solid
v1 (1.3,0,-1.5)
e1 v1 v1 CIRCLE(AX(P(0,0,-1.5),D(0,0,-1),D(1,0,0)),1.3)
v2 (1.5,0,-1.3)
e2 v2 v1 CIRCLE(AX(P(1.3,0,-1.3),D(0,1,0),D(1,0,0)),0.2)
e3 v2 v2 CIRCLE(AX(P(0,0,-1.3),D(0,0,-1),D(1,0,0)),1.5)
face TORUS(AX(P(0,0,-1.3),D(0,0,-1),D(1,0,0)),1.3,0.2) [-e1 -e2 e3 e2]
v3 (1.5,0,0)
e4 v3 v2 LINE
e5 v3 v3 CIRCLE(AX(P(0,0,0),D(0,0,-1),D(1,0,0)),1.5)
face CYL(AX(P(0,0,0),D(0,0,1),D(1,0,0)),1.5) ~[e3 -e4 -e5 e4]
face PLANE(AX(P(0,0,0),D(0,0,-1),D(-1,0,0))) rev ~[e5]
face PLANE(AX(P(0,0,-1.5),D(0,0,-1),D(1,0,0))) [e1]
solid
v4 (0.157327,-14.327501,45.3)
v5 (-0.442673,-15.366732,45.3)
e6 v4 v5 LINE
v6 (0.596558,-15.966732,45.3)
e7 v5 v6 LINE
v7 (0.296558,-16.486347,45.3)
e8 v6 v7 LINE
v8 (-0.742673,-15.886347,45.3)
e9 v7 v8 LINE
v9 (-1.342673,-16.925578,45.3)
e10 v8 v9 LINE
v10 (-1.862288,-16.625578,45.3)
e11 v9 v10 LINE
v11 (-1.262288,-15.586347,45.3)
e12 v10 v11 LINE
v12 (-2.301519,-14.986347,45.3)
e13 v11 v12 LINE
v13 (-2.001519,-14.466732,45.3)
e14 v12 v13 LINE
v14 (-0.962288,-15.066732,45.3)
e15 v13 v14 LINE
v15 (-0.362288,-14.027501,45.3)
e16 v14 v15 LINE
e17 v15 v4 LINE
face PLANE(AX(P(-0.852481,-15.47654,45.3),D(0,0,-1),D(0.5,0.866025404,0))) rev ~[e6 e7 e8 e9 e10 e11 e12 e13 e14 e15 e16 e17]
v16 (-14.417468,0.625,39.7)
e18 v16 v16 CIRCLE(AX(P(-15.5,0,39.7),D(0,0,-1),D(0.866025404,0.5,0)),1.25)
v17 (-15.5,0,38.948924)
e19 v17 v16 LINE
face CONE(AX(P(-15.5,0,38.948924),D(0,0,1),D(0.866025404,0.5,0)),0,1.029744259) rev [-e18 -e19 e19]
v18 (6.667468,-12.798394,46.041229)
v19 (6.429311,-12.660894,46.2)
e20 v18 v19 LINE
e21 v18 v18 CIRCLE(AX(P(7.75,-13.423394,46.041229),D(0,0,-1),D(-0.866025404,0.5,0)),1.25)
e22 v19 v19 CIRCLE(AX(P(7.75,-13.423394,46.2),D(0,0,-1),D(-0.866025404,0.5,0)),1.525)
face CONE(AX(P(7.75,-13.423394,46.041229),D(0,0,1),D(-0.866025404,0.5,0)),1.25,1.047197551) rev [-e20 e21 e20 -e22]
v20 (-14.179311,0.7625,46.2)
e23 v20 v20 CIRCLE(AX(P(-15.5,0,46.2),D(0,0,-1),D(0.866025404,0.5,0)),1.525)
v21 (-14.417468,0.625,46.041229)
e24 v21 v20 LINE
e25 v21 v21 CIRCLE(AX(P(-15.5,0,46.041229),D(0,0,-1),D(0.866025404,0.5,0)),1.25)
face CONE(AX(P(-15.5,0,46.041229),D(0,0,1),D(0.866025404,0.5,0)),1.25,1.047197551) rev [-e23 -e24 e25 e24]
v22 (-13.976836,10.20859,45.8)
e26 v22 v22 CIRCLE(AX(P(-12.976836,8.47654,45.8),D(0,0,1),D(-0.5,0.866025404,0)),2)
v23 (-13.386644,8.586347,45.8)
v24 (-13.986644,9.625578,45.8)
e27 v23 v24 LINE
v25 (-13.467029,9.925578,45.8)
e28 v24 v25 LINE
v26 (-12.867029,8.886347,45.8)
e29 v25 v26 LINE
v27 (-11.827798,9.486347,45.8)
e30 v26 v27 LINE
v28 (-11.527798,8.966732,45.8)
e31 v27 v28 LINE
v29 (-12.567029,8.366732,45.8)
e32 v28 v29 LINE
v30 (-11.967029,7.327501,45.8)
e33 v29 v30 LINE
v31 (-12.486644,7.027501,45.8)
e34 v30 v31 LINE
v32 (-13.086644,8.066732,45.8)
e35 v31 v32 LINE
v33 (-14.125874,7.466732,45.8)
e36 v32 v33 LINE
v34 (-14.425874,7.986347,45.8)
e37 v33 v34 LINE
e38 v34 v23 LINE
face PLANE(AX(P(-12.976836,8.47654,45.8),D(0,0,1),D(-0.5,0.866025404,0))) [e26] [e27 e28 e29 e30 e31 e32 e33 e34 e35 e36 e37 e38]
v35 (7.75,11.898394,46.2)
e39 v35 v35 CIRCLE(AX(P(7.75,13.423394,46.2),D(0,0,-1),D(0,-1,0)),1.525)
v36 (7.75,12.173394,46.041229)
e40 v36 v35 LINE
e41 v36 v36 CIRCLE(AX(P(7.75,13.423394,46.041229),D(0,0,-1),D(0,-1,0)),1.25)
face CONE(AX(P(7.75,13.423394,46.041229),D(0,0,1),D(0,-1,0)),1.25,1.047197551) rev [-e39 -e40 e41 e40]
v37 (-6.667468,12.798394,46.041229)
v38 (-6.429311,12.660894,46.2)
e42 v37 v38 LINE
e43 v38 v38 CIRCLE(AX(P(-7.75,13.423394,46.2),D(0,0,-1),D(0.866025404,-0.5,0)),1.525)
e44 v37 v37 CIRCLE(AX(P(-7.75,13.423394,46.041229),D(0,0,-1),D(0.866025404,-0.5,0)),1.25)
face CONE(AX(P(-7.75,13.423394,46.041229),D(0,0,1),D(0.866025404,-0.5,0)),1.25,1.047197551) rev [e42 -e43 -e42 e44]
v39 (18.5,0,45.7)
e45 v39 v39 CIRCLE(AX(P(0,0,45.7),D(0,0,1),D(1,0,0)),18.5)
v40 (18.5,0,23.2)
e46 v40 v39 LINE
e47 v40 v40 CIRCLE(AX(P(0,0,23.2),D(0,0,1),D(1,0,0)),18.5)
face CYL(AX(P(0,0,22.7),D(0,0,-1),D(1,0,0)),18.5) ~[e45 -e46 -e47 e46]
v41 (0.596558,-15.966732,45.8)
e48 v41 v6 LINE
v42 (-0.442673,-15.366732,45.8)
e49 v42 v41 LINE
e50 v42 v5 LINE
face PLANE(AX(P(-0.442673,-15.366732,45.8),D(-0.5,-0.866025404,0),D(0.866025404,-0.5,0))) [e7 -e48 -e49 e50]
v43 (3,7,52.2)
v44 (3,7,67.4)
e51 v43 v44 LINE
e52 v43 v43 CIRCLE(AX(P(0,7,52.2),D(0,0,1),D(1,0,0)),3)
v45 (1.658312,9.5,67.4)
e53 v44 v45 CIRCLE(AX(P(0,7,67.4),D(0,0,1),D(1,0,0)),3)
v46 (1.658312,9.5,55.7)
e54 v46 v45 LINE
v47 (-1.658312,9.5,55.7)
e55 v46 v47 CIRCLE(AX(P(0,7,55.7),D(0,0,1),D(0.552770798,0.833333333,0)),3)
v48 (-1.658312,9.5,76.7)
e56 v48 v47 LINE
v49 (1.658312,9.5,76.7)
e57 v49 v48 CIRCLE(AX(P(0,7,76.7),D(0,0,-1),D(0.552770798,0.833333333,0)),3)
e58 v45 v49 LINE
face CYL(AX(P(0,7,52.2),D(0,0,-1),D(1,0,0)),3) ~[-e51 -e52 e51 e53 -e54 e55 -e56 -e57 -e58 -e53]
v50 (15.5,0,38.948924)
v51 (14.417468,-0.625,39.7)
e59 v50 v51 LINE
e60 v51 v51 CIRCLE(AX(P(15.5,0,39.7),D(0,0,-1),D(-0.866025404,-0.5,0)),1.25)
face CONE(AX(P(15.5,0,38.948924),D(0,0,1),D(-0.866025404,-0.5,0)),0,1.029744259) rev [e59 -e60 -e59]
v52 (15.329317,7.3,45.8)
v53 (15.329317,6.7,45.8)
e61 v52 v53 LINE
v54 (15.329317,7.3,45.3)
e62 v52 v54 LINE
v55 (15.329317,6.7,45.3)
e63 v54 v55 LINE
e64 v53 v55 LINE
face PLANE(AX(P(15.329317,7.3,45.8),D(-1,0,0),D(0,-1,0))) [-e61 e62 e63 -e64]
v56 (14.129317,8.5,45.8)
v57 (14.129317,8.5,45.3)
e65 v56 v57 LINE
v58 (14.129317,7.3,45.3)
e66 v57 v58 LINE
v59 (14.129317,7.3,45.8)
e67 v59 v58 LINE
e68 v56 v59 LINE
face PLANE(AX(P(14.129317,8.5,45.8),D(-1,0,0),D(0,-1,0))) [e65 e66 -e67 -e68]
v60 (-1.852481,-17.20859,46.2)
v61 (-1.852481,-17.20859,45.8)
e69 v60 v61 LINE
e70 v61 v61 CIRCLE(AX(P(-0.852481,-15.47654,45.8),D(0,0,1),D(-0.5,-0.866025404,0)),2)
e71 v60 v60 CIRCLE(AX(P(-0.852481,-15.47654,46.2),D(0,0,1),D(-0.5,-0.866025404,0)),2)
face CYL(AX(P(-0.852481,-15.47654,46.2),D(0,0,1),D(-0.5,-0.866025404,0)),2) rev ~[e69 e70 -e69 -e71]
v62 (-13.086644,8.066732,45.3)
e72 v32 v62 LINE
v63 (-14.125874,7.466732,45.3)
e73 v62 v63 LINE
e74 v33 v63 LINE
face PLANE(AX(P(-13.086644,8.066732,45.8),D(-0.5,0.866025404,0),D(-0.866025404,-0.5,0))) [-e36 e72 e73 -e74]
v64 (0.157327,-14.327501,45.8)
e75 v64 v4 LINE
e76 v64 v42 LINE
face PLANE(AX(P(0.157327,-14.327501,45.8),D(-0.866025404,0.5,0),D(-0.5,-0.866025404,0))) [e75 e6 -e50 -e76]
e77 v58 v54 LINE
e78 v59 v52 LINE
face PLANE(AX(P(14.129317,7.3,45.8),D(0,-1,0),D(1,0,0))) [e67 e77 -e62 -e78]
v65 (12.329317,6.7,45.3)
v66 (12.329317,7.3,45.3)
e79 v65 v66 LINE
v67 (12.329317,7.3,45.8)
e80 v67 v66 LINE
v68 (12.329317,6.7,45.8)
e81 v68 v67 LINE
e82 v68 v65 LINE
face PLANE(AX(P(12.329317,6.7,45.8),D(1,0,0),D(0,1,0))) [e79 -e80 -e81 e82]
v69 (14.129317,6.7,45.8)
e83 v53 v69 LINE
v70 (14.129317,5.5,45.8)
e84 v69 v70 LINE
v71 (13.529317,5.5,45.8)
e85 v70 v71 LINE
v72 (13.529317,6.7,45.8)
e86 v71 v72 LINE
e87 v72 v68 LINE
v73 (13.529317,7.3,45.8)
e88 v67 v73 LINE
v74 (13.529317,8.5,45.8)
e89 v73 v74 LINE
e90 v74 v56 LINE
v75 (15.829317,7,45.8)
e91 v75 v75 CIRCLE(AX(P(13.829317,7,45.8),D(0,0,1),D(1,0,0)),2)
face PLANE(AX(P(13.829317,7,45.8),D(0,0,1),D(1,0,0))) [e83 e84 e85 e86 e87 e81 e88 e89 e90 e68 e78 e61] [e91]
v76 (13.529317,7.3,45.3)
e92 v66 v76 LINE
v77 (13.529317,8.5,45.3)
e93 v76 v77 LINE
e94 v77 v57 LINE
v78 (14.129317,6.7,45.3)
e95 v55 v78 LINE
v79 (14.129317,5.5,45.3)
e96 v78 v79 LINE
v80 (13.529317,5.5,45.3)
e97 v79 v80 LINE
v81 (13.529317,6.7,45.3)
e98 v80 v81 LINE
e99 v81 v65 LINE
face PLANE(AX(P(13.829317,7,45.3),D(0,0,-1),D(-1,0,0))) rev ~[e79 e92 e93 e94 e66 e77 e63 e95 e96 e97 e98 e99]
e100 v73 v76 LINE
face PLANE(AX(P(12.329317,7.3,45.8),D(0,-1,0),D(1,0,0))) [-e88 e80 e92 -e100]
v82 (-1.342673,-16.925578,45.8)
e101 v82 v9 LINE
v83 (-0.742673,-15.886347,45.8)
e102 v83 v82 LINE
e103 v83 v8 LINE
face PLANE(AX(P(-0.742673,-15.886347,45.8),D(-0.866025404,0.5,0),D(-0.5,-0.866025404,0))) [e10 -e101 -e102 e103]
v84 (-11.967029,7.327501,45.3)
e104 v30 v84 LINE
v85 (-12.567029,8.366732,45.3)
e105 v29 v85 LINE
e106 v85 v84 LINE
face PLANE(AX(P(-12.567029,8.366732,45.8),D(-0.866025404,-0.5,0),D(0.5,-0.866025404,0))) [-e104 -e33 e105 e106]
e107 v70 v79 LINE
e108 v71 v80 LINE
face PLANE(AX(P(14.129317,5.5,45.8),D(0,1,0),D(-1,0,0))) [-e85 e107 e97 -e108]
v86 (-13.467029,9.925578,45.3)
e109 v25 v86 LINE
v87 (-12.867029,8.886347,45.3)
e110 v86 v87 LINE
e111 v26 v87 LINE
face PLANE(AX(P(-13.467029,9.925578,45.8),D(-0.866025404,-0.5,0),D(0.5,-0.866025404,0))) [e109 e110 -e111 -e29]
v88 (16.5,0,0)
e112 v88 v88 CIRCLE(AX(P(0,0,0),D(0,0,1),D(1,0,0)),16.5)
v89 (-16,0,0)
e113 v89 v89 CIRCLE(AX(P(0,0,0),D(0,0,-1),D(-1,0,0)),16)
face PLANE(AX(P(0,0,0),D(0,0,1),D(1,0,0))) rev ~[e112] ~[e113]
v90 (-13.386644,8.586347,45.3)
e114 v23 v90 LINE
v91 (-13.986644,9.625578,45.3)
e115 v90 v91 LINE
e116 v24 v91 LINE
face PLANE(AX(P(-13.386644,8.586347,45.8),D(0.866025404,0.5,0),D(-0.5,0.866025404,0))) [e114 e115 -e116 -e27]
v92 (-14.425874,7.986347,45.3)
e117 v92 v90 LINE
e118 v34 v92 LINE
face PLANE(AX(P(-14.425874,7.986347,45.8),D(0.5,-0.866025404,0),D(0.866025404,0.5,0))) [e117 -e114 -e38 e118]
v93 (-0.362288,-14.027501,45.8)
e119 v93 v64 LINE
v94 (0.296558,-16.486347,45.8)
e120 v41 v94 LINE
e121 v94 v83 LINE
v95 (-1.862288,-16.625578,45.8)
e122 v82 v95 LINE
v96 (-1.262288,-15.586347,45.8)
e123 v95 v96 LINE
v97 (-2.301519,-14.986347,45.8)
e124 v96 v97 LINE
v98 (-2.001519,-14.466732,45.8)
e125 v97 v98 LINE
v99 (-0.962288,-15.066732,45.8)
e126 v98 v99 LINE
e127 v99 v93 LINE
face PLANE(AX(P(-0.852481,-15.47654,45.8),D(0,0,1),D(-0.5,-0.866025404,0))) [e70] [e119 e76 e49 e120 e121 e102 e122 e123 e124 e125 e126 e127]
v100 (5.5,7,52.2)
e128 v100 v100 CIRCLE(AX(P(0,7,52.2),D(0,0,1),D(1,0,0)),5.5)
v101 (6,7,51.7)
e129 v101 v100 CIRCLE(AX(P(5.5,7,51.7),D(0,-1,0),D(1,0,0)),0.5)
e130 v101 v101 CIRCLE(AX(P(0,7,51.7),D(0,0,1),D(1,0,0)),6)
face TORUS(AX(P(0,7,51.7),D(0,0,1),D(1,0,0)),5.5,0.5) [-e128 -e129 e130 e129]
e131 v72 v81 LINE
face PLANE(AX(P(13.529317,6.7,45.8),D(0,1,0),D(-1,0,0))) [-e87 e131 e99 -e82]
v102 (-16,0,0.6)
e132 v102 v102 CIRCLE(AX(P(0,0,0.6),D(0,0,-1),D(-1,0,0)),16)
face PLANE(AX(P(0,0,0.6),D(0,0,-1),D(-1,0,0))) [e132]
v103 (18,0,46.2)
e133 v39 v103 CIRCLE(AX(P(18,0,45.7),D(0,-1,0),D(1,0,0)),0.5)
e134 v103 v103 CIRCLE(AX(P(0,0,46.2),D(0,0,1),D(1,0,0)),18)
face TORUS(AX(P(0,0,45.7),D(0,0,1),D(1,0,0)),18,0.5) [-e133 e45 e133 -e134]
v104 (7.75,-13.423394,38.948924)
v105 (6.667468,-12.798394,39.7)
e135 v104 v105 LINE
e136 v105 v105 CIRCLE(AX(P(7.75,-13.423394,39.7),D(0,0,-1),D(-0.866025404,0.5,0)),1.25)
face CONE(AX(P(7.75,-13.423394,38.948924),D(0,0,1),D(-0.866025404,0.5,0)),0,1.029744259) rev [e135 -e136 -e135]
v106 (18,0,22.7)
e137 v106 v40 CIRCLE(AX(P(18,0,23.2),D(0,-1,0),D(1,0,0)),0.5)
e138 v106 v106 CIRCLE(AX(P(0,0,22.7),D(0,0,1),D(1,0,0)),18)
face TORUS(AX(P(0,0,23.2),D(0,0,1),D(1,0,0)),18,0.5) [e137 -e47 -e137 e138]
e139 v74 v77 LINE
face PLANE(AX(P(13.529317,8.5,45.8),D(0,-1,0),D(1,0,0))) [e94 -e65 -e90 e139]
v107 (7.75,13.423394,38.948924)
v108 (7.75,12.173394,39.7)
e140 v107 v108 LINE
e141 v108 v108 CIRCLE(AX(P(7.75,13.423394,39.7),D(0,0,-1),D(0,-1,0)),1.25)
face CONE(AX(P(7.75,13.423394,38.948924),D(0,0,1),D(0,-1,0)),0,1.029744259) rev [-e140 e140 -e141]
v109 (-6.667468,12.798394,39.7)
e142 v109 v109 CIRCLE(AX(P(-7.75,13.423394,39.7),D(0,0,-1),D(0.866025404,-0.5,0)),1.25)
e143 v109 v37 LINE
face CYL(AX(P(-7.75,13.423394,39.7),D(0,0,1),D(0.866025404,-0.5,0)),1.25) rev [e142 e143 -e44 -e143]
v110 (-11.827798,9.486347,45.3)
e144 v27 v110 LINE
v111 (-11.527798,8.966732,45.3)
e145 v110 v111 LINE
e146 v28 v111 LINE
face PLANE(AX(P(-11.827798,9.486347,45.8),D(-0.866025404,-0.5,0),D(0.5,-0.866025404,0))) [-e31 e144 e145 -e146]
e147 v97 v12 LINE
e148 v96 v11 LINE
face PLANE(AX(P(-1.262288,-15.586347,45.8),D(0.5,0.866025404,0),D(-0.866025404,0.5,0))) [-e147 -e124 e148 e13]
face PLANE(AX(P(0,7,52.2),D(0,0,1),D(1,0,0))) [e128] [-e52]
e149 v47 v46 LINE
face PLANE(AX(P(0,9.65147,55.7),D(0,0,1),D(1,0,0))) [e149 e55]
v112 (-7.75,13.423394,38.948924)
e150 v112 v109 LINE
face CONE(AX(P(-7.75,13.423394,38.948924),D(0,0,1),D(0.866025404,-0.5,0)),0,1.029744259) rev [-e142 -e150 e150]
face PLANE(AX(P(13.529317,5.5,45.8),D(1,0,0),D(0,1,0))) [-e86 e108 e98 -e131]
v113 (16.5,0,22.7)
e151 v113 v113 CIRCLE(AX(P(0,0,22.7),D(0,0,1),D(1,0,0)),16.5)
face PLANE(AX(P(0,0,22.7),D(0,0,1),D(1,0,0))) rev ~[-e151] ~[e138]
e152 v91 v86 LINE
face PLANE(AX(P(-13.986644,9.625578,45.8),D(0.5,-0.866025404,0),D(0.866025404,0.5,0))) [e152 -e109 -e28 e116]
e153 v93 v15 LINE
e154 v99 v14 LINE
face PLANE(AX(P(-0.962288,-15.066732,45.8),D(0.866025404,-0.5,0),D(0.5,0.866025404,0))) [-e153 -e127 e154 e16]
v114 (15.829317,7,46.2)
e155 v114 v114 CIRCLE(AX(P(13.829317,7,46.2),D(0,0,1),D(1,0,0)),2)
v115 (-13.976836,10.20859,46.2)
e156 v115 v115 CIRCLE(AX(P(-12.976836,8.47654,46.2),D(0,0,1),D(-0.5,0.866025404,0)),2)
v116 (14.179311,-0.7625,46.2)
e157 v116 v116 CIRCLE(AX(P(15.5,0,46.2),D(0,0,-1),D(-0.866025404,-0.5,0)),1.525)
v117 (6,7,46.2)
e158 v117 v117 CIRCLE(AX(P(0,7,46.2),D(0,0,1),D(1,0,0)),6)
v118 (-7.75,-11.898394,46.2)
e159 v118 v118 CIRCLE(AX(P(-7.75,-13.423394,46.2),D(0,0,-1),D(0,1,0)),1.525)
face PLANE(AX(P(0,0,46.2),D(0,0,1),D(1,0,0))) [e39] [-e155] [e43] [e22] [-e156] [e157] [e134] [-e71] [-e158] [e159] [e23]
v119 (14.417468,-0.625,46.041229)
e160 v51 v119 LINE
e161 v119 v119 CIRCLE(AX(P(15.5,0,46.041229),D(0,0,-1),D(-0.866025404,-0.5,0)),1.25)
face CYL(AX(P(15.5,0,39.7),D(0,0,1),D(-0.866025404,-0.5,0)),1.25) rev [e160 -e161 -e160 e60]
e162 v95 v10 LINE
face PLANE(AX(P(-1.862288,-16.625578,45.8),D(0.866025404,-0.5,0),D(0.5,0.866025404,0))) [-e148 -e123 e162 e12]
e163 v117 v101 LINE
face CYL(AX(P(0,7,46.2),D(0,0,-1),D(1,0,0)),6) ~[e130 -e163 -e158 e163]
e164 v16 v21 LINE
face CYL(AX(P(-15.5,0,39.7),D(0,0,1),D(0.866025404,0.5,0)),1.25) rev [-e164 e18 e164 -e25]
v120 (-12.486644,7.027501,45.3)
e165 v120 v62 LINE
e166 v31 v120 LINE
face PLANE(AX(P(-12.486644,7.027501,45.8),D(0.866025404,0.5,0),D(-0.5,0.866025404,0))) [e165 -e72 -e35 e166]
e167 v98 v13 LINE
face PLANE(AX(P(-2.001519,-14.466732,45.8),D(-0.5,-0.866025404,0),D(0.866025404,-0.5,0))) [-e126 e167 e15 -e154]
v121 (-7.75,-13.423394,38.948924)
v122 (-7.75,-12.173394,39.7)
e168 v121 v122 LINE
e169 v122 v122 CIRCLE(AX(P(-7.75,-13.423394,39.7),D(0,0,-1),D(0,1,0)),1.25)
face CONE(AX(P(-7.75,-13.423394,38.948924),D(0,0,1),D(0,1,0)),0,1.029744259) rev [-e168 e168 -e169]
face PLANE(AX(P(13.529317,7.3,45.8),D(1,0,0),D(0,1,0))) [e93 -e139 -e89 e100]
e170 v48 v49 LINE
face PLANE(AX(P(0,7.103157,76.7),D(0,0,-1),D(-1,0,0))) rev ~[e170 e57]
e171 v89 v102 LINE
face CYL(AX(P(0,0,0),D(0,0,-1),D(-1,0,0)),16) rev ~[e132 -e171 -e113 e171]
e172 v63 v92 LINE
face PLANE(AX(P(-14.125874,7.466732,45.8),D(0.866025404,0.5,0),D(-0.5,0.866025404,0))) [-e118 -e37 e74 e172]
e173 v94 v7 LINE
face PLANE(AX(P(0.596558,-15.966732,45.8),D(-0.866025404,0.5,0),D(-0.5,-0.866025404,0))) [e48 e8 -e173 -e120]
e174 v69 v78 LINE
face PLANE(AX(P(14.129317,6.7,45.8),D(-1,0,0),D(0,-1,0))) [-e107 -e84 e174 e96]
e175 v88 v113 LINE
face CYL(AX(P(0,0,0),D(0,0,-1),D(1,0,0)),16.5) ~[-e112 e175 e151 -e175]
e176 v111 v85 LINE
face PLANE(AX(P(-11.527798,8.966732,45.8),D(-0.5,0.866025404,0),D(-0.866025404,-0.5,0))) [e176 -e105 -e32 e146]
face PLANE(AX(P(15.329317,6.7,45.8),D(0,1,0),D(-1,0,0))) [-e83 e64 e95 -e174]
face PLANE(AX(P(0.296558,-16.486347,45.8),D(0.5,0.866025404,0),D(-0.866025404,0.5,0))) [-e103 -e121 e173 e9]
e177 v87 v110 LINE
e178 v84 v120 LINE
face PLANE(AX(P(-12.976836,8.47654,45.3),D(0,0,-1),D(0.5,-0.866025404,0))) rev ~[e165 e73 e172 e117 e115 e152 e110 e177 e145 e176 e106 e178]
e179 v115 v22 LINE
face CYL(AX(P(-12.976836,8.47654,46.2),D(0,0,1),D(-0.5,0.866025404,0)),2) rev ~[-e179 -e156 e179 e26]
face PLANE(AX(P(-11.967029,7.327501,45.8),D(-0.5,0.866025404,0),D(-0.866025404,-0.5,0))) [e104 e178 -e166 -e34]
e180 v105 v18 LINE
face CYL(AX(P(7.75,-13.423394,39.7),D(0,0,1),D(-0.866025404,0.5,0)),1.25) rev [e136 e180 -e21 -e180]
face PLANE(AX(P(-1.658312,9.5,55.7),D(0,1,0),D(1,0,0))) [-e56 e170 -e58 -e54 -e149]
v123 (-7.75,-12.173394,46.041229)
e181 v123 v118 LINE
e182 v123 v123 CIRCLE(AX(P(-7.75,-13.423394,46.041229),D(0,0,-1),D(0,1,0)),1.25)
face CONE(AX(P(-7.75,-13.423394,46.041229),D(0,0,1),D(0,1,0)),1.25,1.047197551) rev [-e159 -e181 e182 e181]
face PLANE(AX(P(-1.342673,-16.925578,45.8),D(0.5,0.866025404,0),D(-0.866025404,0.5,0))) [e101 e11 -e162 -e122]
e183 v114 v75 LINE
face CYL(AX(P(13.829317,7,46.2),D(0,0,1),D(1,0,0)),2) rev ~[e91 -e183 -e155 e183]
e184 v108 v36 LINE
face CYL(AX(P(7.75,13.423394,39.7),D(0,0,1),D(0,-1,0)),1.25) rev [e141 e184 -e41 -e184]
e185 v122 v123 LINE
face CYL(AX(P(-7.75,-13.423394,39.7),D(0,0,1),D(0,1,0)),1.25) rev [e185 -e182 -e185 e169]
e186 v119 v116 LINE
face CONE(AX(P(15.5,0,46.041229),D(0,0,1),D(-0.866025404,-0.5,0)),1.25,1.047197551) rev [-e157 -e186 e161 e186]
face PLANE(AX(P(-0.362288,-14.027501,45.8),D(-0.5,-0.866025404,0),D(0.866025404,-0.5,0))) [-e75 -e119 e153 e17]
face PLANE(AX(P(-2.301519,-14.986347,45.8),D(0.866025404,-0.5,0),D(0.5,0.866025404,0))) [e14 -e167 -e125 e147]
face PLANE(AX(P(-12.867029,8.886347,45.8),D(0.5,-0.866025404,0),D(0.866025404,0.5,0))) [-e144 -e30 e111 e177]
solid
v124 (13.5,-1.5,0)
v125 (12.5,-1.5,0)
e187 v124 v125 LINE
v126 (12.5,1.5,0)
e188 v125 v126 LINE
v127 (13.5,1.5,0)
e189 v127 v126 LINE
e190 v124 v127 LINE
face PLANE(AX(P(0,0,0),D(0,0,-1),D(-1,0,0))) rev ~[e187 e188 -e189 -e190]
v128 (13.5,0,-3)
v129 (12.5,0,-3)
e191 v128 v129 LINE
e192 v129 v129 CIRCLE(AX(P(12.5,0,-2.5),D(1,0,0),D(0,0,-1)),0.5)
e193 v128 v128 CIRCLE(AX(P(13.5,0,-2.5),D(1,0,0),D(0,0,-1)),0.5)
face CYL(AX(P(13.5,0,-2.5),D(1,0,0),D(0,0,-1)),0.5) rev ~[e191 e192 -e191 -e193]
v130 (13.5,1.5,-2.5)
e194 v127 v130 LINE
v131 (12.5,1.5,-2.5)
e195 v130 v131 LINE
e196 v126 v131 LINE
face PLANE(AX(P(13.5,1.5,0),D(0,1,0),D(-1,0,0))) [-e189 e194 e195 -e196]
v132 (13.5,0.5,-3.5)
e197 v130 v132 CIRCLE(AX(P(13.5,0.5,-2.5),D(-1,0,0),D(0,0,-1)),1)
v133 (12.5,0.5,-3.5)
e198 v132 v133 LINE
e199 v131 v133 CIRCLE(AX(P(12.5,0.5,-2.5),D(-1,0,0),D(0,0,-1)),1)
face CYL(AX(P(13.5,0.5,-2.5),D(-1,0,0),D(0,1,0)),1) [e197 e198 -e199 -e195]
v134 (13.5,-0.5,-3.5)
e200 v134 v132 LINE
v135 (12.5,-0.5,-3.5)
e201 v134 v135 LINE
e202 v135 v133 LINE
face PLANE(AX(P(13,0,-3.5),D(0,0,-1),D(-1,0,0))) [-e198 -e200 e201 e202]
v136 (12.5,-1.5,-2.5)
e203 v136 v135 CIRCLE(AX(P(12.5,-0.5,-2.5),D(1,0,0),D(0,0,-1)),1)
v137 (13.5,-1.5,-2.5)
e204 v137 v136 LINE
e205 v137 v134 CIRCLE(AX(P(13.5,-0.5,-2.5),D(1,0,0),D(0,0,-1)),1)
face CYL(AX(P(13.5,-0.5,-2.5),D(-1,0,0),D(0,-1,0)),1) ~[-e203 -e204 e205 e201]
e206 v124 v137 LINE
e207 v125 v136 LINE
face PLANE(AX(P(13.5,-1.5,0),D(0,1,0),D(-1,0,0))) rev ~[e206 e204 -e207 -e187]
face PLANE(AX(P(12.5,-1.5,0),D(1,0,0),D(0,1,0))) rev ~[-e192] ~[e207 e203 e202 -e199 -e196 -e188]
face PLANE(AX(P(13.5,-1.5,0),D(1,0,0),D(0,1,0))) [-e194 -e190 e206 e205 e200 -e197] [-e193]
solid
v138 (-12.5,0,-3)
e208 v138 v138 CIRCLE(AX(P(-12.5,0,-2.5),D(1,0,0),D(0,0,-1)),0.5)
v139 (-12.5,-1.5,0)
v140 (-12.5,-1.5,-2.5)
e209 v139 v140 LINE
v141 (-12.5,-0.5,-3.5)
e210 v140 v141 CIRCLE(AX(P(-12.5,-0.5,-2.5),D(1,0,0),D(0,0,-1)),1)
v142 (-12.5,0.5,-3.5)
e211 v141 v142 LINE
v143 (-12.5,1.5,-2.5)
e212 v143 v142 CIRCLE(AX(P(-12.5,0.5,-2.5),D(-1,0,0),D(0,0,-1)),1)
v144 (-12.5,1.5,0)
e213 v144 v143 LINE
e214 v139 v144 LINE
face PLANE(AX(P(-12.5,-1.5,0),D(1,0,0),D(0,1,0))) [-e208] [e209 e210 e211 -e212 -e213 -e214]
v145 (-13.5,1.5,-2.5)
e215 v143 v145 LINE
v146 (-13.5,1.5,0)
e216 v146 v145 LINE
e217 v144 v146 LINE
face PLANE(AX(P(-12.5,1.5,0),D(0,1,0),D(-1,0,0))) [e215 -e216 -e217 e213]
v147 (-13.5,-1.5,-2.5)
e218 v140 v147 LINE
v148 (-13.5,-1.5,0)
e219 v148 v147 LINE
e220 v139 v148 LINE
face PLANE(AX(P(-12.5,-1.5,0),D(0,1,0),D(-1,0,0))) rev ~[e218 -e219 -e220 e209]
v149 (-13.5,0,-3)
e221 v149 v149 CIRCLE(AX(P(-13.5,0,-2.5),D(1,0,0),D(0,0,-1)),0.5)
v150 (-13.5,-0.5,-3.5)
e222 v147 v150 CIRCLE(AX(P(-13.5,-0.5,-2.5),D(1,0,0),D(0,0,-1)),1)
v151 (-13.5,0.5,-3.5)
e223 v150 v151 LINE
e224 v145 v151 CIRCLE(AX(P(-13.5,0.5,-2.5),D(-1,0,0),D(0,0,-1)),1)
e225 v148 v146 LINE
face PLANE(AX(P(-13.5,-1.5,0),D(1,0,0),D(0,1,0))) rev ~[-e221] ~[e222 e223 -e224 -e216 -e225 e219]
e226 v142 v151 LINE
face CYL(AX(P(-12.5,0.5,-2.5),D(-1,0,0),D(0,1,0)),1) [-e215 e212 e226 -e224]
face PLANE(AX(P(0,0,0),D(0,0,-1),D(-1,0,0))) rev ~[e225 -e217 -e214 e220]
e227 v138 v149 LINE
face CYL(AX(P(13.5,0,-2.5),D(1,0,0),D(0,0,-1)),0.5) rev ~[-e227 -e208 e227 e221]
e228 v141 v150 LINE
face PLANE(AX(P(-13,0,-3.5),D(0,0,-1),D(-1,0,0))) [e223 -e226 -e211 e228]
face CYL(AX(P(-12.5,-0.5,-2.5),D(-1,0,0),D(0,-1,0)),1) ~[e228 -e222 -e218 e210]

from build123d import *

# Parameters (mm, degrees)
SKETCH_1_R               = 16.5
EXTRUDE_1_DEPTH          = 22.7
SKETCH_2_R               = 18.5
EXTRUDE_2_DEPTH          = 23.5
SKETCH_3_R               = 6
EXTRUDE_3_DEPTH          = 6
SKETCH_4_R               = 3
EXTRUDE_4_DEPTH          = 15.5
CUT_EXTRUDE_START        = -12
CUT_EXTRUDE_1_DEPTH      = 12
SKETCH_6_W               = 1
SKETCH_6_H               = 3
EXTRUDE_5_DEPTH          = 3.5
SKETCH_7_R               = 1.5
EXTRUDE_6_DEPTH          = 1.5
SKETCH_8_R               = 0.5
CUT_EXTRUDE_2_DEPTH      = 78.133261308
FILLET_5_R               = 1
PATTERN_CIRCULAR_1_COUNT = 6
SKETCH_15_R              = 2
CUT_EXTRUDE_3_DEPTH      = 0.4
CUT_EXTRUDE_4_DEPTH      = 0.5
PATTERN_CIRCULAR_2_COUNT = 3
FILLET_6_R               = 0.5
SKETCH_18_R              = 16
CUT_EXTRUDE_5_DEPTH      = 0.6
FILLET_7_R               = 0.2
CHAMFER_1_SIZE           = 0.3
BOSS_EXTRUDE1_START      = -1
BOSS_EXTRUDE1_DEPTH      = 10


with BuildPart() as part:
    # 草图1 → 凸台-拉伸1 (new body)
    with BuildSketch(Plane.XY):
        Circle(SKETCH_1_R)
    extrude(amount=EXTRUDE_1_DEPTH)

    # 草图2 → 凸台-拉伸2 (add)
    with BuildSketch(Plane.XY.offset(22.7)):
        Circle(SKETCH_2_R)
    extrude(amount=EXTRUDE_2_DEPTH)

    # 草图3 → 凸台-拉伸3 (add)
    with BuildSketch(Plane.XY.offset(46.2)):
        with Locations((0, 7)):
            Circle(SKETCH_3_R)
    extrude(amount=EXTRUDE_3_DEPTH)

    # 草图4 → 凸台-拉伸4 (add)
    with BuildSketch(Plane.XY.offset(52.2)):
        with Locations((0, 7)):
            Circle(SKETCH_4_R)
    extrude(amount=EXTRUDE_4_DEPTH)

    # 草图5 → 切除-拉伸1 (cut)
    with BuildSketch(Plane.XY.offset(67.7).offset(CUT_EXTRUDE_START)):
        with BuildLine():
            Line((-1.658312395, 9.5), (1.658312395, 9.5))
            ThreePointArc((1.658312395, 9.5), (0, 10), (-1.658312395, 9.5))
        make_face()
    extrude(amount=CUT_EXTRUDE_1_DEPTH, mode=Mode.SUBTRACT)

    # 草图6 → 凸台-拉伸5 (add)
    with BuildSketch(Plane(origin=(0, 0, 0), x_dir=(-1, 0, 0), z_dir=(0, 0, -1))):
        with Locations((-13, 0)):
            Rectangle(SKETCH_6_W, SKETCH_6_H)
        with Locations((13, 0)):
            Rectangle(SKETCH_6_W, SKETCH_6_H)
    extrude(amount=EXTRUDE_5_DEPTH)

    # 草图7 → 凸台-拉伸6 (add)
    with BuildSketch(Plane(origin=(0, 0, 0), x_dir=(-1, 0, 0), z_dir=(0, 0, -1))):
        Circle(SKETCH_7_R)
    extrude(amount=EXTRUDE_6_DEPTH)

    # 草图8 → 切除-拉伸2 (cut, through all)
    with BuildSketch(Plane(origin=(13.5, 0, 0), x_dir=(0, 0, -1), z_dir=(1, 0, 0))):
        with Locations((2.5, 0)):
            Circle(SKETCH_8_R)
    extrude(amount=-CUT_EXTRUDE_2_DEPTH, mode=Mode.SUBTRACT)

    # 圆角5
    fillet_5_edges = [part.edges().sort_by_distance(p)[0] for p in [
        (-13, 1.5, -3.5),
        (-13, -1.5, -3.5),
        (13, 1.5, -3.5),
        (13, -1.5, -3.5),
    ]]
    fillet(fillet_5_edges, radius=FILLET_5_R)

    # 草图13 → M3 螺纹孔3 (revolve, cut)
    with BuildSketch(Plane(origin=(7.75, 13.423393759, 46.2), x_dir=(0, -1, 0), z_dir=(1, 0, 0))):
        Polygon((0, 0), (0, 7.251075774), (1.25, 6.5), (1.25, 0.158771324), (1.525, 0), align=None)
    hole_wizard_m3_3 = revolve(axis=Axis((7.75, 13.423393759, 52.55), (0, 0, -1)), mode=Mode.SUBTRACT)

    # 阵列(圆周)1: M3 螺纹孔3 ×6 about axis
    pattern_circular_1_axis = Axis((0, 0, -7.35), (0, 0, 1))
    for i in range(1, PATTERN_CIRCULAR_1_COUNT):
        add(hole_wizard_m3_3.rotate(pattern_circular_1_axis, i * 360 / PATTERN_CIRCULAR_1_COUNT), mode=Mode.SUBTRACT)

    # 草图15 → 切除-拉伸3 (cut)
    with BuildSketch(Plane.XY.offset(46.2)):
        with Locations((13.829316686, 7)):
            Circle(SKETCH_15_R)
    cut_extrude_3 = extrude(amount=-CUT_EXTRUDE_3_DEPTH, mode=Mode.SUBTRACT)

    # 草图17 → 切除-拉伸4 (cut)
    with BuildSketch(Plane.XY.offset(45.8)):
        Polygon((13.529316686, 5.5), (13.529316686, 6.7), (12.329316686, 6.7), (12.329316686, 7.3), (13.529316686, 7.3), (13.529316686, 8.5), (14.129316686, 8.5), (14.129316686, 7.3), (15.329316686, 7.3), (15.329316686, 6.7), (14.129316686, 6.7), (14.129316686, 5.5), align=None)
    cut_extrude_4 = extrude(amount=-CUT_EXTRUDE_4_DEPTH, mode=Mode.SUBTRACT)

    # 阵列(圆周)2: 切除-拉伸3, 切除-拉伸4 ×3 about axis
    pattern_circular_2_axis = Axis((0, 0, -7.35), (0, 0, 1))
    add([cut_extrude_3.rotate(pattern_circular_2_axis, i * 360 / PATTERN_CIRCULAR_2_COUNT) for i in range(1, PATTERN_CIRCULAR_2_COUNT)], mode=Mode.SUBTRACT)
    add([cut_extrude_4.rotate(pattern_circular_2_axis, i * 360 / PATTERN_CIRCULAR_2_COUNT) for i in range(1, PATTERN_CIRCULAR_2_COUNT)], mode=Mode.SUBTRACT)

    # 圆角6
    fillet_6_edges = [part.edges().sort_by_distance(p)[0] for p in [
        (-6, 7, 52.2),
        (-18.5, 0, 46.2),
        (-18.5, 0, 22.7),
    ]]
    fillet(fillet_6_edges, radius=FILLET_6_R)

    # 草图18 → 切除-拉伸5 (cut)
    with BuildSketch(Plane(origin=(0, 0, 0), x_dir=(-1, 0, 0), z_dir=(0, 0, -1))):
        Circle(SKETCH_18_R)
    extrude(amount=-CUT_EXTRUDE_5_DEPTH, mode=Mode.SUBTRACT)


with BuildPart() as cut_extrude_5_piece_1:
    # of the separate pieces the step leaves, piece 1, a body of its own (cut_extrude_5_pieces)
    add(part.part.solids().sort_by_distance((18, 0, 22.7))[0])

    # 倒角1
    chamfer_1_edges = [cut_extrude_5_piece_1.edges().sort_by_distance(p)[0] for p in [
        (0, 9.5, 67.7),
        (-1.418637165, 4.356617963, 67.7),
    ]]
    chamfer(chamfer_1_edges, length=CHAMFER_1_SIZE)

    # Sketch1 → Boss-Extrude1 (add)
    with BuildSketch(Plane.XY.offset(67.7).offset(BOSS_EXTRUDE1_START)):
        with BuildLine():
            Line((1.658312395, 9.5), (-1.658312395, 9.5))
            ThreePointArc((-1.658312395, 9.5), (0, 4), (1.658312395, 9.5))
        make_face()
    extrude(amount=BOSS_EXTRUDE1_DEPTH)


with BuildPart() as cut_extrude_5_piece_2:
    # of the separate pieces the step leaves, piece 2, a body of its own (cut_extrude_5_pieces)
    add(part.part.solids().sort_by_distance((-1.5, 0, 0))[0])

    # 圆角7
    fillet_7_edges = [cut_extrude_5_piece_2.edges().sort_by_distance(p)[0] for p in [
        (1.5, 0, -1.5),
    ]]
    fillet(fillet_7_edges, radius=FILLET_7_R)


with BuildPart() as cut_extrude_5_piece_3:
    # of the separate pieces the step leaves, piece 3, a body of its own (cut_extrude_5_pieces)
    add(part.part.solids().sort_by_distance((13.5, 1.5, -2.5))[0])


with BuildPart() as cut_extrude_5_piece_4:
    # of the separate pieces the step leaves, piece 4, a body of its own (cut_extrude_5_pieces)
    add(part.part.solids().sort_by_distance((-13.5, 1.5, -2.5))[0])


solid = Compound([cut_extrude_5_piece_1.part, cut_extrude_5_piece_2.part, cut_extrude_5_piece_3.part, cut_extrude_5_piece_4.part])
